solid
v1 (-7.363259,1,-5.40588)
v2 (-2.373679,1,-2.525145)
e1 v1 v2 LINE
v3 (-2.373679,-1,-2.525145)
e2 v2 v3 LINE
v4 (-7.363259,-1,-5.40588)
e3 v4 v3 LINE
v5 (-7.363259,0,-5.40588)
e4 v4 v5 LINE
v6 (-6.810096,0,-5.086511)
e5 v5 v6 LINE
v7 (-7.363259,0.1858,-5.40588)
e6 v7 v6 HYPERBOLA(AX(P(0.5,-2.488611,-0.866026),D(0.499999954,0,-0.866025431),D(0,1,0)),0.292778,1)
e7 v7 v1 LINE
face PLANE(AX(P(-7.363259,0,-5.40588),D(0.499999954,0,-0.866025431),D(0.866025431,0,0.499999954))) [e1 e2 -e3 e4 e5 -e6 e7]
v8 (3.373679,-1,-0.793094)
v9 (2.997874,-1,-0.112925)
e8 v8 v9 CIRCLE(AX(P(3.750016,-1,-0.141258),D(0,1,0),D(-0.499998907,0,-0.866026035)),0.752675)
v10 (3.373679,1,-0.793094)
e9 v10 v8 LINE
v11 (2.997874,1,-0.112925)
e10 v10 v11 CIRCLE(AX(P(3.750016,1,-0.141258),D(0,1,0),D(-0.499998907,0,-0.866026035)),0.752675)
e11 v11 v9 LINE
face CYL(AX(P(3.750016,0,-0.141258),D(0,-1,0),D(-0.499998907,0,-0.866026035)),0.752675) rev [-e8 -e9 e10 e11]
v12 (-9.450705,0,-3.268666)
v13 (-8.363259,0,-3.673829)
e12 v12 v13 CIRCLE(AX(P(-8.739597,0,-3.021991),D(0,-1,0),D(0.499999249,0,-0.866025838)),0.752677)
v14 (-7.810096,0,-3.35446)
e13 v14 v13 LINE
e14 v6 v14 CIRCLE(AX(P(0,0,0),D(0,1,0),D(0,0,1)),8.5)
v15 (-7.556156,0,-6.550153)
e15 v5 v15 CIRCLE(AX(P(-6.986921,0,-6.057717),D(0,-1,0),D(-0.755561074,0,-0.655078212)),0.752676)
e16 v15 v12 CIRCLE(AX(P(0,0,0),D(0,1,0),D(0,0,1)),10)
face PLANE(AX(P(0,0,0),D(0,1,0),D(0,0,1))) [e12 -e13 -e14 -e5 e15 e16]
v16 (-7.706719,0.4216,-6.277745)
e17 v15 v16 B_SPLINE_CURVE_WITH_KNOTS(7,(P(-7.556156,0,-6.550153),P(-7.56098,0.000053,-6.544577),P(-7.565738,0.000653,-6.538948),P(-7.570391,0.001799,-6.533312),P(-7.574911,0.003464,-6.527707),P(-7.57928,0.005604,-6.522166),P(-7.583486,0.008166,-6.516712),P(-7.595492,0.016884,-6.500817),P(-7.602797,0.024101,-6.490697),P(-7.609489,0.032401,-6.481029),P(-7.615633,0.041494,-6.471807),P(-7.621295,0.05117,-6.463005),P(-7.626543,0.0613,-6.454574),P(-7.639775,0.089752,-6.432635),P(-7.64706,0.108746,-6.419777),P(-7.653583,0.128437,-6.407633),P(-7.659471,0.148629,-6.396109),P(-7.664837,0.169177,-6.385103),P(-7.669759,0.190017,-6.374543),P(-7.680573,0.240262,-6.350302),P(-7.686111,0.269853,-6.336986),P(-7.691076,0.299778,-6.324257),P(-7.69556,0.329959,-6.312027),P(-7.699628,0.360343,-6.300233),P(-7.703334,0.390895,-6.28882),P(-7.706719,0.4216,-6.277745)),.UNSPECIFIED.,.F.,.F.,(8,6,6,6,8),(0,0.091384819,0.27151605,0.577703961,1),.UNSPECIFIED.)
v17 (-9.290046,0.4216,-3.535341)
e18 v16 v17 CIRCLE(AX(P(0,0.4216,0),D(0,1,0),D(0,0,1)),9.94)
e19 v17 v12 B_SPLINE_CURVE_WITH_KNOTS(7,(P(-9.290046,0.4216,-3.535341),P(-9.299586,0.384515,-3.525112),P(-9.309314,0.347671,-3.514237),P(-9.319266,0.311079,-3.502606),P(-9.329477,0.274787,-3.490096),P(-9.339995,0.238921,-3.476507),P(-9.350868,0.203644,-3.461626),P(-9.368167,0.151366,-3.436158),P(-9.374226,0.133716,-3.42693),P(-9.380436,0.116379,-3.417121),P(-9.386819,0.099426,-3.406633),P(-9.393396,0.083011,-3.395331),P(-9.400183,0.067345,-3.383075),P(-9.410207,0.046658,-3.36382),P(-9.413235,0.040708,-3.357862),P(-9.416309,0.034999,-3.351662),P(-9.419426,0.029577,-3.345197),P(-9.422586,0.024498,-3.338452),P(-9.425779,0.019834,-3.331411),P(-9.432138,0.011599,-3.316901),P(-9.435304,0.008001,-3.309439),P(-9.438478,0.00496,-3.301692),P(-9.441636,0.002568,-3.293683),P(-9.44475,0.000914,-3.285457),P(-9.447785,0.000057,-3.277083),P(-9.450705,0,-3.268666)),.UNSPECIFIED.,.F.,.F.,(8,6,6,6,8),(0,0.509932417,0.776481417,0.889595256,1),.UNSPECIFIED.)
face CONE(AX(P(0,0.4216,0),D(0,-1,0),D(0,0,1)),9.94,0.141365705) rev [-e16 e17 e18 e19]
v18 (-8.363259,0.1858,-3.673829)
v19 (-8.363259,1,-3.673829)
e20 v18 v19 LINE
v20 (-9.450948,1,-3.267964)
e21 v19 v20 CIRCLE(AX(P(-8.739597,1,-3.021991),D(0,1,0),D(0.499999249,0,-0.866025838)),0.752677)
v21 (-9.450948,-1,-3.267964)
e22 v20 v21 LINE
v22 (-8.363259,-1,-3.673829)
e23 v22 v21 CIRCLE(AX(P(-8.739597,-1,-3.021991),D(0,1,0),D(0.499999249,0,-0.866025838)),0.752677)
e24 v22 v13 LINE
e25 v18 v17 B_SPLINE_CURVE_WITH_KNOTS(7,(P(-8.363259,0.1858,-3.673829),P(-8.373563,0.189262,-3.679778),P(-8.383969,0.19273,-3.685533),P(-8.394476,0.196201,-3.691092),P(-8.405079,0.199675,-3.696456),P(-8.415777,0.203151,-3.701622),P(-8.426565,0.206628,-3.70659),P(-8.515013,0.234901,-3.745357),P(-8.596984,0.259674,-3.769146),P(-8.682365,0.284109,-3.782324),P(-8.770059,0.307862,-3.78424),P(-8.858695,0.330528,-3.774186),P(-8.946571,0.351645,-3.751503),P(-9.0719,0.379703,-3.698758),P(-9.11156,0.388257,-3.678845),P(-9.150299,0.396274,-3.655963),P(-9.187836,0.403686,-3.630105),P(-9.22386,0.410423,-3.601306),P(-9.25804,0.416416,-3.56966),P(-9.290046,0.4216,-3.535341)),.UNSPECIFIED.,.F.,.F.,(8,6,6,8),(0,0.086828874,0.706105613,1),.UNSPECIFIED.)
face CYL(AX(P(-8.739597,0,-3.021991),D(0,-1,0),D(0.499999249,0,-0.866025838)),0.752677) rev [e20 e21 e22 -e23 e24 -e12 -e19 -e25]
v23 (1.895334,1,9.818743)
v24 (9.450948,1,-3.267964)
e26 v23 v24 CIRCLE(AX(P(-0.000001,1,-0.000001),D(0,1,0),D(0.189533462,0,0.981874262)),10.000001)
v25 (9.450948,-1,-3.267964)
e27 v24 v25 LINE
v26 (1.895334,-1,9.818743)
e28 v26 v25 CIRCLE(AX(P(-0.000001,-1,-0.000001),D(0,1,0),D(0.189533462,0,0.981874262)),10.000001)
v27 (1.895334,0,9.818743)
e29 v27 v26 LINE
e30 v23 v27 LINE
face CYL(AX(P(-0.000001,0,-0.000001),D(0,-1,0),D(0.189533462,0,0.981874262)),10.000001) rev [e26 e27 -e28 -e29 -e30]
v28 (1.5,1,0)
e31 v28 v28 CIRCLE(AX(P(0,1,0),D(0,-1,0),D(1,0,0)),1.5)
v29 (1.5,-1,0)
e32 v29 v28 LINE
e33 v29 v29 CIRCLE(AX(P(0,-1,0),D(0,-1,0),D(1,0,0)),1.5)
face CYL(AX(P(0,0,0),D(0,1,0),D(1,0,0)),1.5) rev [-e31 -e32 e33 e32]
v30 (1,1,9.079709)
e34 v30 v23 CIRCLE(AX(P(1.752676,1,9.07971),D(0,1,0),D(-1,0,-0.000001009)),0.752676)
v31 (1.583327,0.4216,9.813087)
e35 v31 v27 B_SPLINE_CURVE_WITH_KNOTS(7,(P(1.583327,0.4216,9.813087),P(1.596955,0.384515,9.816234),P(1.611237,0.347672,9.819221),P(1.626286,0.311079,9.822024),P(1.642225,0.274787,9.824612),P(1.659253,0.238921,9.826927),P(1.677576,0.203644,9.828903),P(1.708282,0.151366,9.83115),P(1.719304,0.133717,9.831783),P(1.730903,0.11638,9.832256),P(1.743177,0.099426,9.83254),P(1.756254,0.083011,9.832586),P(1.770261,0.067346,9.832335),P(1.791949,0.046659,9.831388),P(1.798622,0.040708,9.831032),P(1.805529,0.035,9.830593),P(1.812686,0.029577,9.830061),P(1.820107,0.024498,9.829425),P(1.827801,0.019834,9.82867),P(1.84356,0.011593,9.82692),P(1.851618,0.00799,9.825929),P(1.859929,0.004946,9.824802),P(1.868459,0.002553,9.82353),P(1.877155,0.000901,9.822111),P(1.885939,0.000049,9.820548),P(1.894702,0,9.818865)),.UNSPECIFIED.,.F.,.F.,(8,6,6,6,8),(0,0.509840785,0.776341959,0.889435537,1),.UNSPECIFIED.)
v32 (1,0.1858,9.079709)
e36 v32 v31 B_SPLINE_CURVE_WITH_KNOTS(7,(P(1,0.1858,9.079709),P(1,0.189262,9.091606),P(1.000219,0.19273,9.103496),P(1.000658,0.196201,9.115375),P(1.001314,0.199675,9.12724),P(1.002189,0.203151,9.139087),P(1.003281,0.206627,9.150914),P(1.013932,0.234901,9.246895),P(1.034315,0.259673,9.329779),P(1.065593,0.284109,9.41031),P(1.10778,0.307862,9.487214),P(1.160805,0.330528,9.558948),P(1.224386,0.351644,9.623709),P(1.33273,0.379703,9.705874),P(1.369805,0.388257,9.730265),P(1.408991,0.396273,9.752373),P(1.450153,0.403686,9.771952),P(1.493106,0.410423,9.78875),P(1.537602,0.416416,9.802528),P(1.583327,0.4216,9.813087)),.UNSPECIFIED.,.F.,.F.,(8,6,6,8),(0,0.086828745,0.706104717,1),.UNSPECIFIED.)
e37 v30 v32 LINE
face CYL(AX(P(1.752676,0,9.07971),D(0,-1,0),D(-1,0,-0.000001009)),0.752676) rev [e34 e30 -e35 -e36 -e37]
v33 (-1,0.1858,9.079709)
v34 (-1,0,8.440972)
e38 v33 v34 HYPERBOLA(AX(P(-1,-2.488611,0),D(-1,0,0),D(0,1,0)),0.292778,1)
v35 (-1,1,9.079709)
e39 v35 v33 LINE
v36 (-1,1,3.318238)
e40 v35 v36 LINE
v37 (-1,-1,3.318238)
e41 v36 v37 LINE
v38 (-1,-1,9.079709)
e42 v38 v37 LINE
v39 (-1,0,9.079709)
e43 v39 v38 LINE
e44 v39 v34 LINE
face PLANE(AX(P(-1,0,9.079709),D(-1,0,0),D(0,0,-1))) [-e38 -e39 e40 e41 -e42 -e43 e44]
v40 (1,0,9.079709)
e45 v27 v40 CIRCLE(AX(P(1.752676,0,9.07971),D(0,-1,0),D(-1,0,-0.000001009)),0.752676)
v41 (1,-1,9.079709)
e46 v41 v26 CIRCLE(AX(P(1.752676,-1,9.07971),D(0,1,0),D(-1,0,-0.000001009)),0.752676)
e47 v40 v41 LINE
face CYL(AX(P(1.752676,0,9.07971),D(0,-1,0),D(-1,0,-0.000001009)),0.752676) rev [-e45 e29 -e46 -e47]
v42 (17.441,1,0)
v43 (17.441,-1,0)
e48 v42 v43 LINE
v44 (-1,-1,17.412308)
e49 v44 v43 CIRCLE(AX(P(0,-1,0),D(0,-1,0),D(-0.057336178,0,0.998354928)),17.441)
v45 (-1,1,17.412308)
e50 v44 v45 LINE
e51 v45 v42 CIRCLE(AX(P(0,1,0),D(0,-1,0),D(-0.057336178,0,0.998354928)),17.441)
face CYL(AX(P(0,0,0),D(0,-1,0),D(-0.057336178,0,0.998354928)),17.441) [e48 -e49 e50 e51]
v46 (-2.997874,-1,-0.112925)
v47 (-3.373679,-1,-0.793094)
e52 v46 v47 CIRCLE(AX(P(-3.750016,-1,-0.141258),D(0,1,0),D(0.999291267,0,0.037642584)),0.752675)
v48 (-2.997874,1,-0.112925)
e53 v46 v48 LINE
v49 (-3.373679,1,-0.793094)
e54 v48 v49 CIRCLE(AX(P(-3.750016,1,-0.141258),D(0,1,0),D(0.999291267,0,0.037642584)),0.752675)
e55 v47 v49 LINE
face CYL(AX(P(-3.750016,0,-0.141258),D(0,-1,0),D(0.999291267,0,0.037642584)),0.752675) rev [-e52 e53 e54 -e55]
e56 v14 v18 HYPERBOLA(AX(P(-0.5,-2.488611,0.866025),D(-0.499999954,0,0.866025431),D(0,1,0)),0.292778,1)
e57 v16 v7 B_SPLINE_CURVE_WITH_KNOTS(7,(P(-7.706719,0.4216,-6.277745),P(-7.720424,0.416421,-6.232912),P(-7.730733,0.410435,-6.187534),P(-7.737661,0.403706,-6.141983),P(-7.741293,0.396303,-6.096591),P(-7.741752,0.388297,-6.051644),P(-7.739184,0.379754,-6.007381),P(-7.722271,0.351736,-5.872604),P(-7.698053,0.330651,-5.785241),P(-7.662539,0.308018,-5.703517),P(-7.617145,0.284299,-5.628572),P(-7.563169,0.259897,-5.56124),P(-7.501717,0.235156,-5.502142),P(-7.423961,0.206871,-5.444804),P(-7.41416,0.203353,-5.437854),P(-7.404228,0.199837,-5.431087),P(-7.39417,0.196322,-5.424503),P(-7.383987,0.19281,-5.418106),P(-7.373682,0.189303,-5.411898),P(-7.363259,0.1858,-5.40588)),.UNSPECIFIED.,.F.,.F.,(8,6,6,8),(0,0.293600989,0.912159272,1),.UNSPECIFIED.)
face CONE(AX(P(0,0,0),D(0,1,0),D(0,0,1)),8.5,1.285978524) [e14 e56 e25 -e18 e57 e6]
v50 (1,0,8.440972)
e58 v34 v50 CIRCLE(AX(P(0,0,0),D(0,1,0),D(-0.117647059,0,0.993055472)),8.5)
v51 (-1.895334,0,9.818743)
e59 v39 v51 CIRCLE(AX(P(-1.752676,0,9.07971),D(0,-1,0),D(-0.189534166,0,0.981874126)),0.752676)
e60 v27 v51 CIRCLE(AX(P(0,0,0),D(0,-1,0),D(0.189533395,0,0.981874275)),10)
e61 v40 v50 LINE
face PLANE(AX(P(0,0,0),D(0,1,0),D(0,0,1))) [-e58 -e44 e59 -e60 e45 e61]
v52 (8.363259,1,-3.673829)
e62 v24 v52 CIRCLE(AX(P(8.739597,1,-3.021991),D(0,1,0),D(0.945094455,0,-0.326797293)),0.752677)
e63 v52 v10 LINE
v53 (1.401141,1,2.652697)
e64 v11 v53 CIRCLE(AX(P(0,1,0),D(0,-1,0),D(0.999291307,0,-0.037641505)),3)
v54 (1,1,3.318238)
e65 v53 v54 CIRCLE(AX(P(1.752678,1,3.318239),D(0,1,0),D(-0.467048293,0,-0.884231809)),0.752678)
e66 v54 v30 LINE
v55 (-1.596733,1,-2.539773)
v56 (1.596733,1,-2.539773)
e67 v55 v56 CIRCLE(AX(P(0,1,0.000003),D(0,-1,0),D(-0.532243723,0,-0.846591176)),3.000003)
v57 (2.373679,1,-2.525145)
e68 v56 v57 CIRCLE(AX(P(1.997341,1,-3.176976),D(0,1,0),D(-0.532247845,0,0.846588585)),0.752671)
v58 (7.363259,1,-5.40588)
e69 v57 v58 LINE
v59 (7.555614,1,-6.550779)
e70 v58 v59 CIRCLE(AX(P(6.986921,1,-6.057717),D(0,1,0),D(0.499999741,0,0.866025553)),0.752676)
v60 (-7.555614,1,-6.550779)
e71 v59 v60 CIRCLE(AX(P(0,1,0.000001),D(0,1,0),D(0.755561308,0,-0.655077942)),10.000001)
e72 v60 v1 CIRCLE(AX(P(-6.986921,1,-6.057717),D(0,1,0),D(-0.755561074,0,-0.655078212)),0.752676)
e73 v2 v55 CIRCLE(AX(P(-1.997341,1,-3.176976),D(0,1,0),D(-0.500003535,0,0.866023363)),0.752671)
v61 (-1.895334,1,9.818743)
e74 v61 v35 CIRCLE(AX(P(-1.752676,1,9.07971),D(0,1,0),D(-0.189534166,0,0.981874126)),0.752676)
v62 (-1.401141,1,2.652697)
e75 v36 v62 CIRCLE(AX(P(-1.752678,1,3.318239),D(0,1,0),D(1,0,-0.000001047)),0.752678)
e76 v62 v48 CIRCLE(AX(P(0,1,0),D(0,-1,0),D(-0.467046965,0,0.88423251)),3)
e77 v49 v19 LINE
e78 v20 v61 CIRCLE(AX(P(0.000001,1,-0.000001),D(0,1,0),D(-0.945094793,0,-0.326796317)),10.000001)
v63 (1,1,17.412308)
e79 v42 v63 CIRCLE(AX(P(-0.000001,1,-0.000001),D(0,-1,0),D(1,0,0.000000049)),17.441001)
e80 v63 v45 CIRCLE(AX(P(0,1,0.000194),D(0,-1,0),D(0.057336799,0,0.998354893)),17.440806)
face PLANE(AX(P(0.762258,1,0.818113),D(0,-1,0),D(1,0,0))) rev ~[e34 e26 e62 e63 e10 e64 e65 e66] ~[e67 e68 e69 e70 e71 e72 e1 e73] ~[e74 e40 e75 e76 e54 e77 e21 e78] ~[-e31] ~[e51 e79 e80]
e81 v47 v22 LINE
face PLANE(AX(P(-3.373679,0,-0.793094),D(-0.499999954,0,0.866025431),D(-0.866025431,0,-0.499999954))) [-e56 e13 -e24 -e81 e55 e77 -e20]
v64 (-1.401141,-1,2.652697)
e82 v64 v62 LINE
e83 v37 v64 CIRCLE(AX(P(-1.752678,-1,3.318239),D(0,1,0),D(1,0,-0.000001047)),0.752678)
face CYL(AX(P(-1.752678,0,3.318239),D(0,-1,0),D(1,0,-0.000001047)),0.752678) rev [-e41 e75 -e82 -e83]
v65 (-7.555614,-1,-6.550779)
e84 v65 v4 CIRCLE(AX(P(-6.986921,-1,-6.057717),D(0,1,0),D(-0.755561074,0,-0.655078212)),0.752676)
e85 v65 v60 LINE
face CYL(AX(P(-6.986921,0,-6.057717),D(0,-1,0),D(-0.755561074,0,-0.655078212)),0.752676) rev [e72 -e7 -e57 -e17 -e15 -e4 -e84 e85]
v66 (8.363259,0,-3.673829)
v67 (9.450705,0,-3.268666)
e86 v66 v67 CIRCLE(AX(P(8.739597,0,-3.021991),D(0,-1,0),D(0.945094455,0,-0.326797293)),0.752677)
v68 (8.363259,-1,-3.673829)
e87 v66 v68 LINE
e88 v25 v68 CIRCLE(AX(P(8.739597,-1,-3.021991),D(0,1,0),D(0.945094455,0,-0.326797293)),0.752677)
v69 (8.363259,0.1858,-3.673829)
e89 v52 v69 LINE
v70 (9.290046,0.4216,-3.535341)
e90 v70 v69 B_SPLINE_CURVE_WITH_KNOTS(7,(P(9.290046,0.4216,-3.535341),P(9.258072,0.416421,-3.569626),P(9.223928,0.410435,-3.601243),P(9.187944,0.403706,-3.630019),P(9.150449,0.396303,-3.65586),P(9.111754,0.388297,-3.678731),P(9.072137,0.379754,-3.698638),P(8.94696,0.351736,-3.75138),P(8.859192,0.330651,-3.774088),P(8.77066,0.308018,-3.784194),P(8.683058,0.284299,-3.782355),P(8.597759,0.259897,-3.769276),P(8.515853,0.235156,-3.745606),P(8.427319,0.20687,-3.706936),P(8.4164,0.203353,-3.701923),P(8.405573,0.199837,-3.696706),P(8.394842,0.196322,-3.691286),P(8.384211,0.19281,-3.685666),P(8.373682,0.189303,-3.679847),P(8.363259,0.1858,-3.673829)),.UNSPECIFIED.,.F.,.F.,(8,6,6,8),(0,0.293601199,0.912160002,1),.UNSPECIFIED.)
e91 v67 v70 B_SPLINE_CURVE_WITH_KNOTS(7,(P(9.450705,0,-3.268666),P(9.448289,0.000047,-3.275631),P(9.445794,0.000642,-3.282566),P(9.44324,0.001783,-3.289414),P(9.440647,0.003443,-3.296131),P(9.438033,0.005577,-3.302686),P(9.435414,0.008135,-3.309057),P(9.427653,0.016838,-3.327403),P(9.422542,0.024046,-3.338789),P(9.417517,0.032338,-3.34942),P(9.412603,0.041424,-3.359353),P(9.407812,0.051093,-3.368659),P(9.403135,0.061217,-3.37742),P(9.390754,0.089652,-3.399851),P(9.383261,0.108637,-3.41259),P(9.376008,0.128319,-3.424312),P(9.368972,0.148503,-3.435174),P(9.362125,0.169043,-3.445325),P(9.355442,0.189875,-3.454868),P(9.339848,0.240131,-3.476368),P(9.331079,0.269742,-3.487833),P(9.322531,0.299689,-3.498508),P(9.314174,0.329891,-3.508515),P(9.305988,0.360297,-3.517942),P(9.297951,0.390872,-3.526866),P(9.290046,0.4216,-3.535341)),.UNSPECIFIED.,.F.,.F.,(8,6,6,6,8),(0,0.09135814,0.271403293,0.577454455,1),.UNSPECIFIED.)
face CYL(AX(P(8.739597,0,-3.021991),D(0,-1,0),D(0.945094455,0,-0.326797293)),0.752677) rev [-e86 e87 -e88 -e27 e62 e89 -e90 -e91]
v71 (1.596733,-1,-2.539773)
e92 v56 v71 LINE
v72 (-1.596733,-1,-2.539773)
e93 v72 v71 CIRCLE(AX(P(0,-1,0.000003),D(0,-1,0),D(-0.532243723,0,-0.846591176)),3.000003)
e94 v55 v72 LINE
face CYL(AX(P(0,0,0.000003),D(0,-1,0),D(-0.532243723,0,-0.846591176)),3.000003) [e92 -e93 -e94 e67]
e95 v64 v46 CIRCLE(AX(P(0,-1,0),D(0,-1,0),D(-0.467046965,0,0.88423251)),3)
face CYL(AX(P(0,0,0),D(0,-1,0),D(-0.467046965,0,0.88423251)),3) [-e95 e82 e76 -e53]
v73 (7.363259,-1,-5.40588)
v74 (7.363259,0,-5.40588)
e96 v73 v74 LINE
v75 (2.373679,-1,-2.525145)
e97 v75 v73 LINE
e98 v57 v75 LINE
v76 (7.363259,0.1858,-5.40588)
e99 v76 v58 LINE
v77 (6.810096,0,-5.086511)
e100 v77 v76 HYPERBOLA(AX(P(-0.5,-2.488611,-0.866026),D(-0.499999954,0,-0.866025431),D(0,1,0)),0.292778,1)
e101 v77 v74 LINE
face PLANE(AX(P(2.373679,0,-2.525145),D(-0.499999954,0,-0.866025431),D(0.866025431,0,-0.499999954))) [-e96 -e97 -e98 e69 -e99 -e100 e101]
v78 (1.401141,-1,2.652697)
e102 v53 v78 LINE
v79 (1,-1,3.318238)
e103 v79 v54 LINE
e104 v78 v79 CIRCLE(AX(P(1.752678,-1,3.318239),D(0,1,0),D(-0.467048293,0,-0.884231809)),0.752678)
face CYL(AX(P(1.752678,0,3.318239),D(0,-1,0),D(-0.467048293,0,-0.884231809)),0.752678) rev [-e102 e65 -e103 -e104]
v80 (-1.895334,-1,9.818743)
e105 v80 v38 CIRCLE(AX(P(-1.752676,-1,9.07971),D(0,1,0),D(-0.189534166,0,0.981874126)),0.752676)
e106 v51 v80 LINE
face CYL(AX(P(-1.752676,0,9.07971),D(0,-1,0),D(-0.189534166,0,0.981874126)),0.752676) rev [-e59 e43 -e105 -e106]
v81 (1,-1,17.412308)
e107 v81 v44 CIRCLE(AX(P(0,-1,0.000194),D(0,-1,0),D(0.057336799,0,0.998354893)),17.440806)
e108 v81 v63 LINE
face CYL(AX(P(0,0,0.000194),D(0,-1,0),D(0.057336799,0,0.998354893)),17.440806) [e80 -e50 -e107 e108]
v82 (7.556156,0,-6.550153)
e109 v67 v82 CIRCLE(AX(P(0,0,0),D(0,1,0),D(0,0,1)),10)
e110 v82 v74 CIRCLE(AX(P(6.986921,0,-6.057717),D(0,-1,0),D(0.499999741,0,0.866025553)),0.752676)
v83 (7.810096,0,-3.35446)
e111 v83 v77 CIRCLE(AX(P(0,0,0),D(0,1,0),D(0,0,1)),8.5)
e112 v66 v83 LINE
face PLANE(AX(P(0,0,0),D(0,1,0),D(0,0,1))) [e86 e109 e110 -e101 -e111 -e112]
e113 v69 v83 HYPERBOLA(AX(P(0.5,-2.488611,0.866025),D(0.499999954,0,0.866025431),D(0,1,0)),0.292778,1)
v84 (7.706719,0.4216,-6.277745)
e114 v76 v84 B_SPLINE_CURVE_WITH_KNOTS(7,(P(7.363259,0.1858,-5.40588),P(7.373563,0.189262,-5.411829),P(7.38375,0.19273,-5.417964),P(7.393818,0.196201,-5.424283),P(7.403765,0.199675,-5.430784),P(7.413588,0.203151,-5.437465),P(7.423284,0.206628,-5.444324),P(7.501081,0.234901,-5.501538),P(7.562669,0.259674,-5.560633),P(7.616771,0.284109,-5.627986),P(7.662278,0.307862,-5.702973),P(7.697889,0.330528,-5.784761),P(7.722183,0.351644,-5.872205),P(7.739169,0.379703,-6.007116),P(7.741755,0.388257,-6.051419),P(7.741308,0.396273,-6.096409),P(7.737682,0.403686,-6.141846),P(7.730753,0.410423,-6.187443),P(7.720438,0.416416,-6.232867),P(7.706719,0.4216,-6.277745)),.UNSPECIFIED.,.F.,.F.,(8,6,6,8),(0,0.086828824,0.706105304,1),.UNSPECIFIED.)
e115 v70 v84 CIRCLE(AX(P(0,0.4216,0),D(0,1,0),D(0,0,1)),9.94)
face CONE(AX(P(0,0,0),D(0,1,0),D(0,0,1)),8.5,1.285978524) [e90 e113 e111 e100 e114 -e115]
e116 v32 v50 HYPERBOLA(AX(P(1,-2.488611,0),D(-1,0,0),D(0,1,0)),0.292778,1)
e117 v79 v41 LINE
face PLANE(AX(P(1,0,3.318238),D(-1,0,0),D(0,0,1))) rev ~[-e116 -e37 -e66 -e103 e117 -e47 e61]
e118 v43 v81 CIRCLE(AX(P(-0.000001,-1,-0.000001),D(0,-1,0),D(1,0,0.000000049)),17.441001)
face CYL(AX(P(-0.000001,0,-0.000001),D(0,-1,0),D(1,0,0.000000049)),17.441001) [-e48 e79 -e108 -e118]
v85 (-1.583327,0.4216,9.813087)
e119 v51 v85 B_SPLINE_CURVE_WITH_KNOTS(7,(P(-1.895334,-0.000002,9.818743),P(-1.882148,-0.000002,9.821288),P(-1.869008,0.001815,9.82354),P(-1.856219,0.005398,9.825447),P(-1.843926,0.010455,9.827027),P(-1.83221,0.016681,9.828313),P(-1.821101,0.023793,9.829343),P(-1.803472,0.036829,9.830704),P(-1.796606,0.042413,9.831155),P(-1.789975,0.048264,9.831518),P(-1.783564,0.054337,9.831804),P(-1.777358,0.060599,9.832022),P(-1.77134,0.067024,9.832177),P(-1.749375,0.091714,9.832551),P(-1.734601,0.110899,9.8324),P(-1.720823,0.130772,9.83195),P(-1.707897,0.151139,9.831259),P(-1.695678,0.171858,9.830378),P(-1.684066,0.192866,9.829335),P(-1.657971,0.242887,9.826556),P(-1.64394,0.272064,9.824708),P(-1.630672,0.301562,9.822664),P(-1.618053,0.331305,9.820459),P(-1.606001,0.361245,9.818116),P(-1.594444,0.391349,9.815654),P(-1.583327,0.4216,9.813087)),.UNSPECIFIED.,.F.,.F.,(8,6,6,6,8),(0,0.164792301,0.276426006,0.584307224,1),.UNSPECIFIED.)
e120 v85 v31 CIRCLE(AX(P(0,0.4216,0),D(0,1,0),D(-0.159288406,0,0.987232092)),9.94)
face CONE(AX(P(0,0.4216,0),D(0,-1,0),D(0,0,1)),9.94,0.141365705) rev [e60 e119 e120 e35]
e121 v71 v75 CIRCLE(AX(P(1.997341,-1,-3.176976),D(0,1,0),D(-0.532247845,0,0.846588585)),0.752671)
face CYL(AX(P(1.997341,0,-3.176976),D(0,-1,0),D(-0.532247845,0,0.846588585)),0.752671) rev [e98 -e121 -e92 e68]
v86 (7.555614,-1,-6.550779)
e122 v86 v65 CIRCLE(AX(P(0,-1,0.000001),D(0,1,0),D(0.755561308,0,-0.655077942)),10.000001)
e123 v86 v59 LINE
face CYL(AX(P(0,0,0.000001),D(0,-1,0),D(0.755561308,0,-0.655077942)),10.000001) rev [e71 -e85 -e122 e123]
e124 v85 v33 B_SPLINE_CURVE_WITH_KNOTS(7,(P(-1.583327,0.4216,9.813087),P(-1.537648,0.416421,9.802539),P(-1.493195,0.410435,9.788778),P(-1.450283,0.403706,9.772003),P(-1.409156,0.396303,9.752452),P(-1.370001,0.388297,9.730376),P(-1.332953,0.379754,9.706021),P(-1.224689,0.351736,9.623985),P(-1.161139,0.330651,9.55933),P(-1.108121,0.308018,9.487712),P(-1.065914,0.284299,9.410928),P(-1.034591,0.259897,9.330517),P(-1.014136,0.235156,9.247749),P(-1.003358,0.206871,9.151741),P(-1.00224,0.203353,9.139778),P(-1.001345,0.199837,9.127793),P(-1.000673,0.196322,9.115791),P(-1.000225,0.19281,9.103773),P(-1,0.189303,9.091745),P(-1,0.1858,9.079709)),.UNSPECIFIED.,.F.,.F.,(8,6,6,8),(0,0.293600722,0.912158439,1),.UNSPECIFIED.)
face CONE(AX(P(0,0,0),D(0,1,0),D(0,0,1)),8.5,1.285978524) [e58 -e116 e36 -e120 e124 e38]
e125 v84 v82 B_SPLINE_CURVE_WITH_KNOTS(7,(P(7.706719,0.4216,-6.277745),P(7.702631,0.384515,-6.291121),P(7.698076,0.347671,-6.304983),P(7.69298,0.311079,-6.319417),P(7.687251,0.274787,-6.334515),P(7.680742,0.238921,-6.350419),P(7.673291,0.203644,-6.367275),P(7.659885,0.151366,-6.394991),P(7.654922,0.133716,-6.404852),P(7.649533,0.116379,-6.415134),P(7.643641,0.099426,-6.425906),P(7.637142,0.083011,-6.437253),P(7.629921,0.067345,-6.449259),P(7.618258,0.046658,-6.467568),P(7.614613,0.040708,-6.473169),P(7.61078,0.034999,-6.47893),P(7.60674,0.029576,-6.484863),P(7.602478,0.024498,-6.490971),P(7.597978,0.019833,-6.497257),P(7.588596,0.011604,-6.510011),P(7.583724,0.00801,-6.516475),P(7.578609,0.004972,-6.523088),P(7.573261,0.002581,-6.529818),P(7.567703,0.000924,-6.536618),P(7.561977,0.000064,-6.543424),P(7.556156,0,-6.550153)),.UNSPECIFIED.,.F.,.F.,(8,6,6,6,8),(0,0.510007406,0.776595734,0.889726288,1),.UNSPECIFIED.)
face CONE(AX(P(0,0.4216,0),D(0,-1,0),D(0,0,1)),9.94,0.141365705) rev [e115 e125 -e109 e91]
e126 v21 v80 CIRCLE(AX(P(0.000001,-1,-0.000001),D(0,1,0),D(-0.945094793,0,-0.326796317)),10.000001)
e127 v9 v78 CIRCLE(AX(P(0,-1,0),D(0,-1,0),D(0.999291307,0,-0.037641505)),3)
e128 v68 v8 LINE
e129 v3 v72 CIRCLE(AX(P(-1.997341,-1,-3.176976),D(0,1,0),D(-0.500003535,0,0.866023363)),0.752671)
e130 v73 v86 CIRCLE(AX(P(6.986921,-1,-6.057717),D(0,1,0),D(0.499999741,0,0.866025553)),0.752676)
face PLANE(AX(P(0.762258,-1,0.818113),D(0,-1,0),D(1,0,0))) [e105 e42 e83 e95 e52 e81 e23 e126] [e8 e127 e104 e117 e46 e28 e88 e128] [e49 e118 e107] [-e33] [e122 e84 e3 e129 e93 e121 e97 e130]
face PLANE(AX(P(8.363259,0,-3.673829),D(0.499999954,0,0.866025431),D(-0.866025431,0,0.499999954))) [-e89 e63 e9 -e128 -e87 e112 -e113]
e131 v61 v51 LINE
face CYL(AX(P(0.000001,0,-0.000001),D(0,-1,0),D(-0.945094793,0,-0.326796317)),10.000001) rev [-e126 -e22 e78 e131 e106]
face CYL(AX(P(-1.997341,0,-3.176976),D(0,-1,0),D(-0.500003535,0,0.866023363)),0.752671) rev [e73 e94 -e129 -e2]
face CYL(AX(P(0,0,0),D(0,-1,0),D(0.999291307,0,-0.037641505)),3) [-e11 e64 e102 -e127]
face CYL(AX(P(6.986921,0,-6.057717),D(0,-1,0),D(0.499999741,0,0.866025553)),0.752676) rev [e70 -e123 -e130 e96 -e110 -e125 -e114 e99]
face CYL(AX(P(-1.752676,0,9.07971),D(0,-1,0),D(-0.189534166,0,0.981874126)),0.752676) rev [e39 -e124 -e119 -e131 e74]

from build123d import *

# Parameters (mm, degrees)
F0_R     = 1.5
F1_DEPTH = 1


with BuildPart() as f1:
    # F0 (on Front) → F1 (new body, symmetric)
    with BuildSketch(Plane.XZ):
        with BuildLine():
            ThreePointArc((-1, 17.412308), (-11.973877, -12.681275), (17.441, 0))
            ThreePointArc((17.441, 0), (12.681275, 11.973877), (1, 17.412308))
            ThreePointArc((1, 17.412308), (0, 17.441), (-1, 17.412308))
        make_face()
        with BuildLine():
            ThreePointArc((-2.373679, -2.525145), (-1.983172, -2.424438), (-1.596733, -2.539773))
            ThreePointArc((-1.596733, -2.539773), (0, -3), (1.596733, -2.539773))
            ThreePointArc((1.596733, -2.539773), (1.983172, -2.424438), (2.373679, -2.525145))
            Line((2.373679, -2.525145), (7.363259, -5.40588))
            ThreePointArc((7.363259, -5.40588), (7.729194, -5.933007), (7.555614, -6.550779))
            ThreePointArc((7.555614, -6.550779), (0, -10), (-7.555614, -6.550779))
            ThreePointArc((-7.555614, -6.550779), (-7.729194, -5.933007), (-7.363259, -5.40588))
            Line((-7.363259, -5.40588), (-2.373679, -2.525145))
        make_face(mode=Mode.SUBTRACT)
        with BuildLine():
            ThreePointArc((-9.450948, -3.267964), (-8.660254, 5), (-1.895334, 9.818743))
            ThreePointArc((-1.895334, 9.818743), (-1.273538, 9.660182), (-1, 9.079709))
            Line((-1, 9.079709), (-1, 3.318238))
            ThreePointArc((-1, 3.318238), (-1.108039, 2.929697), (-1.401141, 2.652697))
            ThreePointArc((-1.401141, 2.652697), (-2.598076, 1.5), (-2.997874, -0.112925))
            ThreePointArc((-2.997874, -0.112925), (-3.091211, -0.505258), (-3.373679, -0.793094))
            Line((-3.373679, -0.793094), (-8.363259, -3.673829))
            ThreePointArc((-8.363259, -3.673829), (-9.002732, -3.727174), (-9.450948, -3.267964))
        make_face(mode=Mode.SUBTRACT)
        Circle(F0_R, mode=Mode.SUBTRACT)
        with BuildLine():
            Line((1, 3.318238), (1, 9.079709))
            ThreePointArc((1, 9.079709), (1.273538, 9.660182), (1.895334, 9.818743))
            ThreePointArc((1.895334, 9.818743), (8.660254, 5), (9.450948, -3.267964))
            ThreePointArc((9.450948, -3.267964), (9.002732, -3.727174), (8.363259, -3.673829))
            Line((8.363259, -3.673829), (3.373679, -0.793094))
            ThreePointArc((3.373679, -0.793094), (3.091211, -0.505258), (2.997874, -0.112925))
            ThreePointArc((2.997874, -0.112925), (2.598076, 1.5), (1.401141, 2.652697))
            ThreePointArc((1.401141, 2.652697), (1.108039, 2.929697), (1, 3.318238))
        make_face(mode=Mode.SUBTRACT)
    extrude(amount=F1_DEPTH, both=True)

    # F2 (on Right) → F3 (revolve, cut)
    with BuildSketch(Plane.YZ):
        Polygon((0.4216, 9.94), (0, 10), (0, 8.5), align=None)
    revolve(axis=Axis((0, -2.204443, 0), (0, 1, 0)), mode=Mode.SUBTRACT)


solid = f1.part
